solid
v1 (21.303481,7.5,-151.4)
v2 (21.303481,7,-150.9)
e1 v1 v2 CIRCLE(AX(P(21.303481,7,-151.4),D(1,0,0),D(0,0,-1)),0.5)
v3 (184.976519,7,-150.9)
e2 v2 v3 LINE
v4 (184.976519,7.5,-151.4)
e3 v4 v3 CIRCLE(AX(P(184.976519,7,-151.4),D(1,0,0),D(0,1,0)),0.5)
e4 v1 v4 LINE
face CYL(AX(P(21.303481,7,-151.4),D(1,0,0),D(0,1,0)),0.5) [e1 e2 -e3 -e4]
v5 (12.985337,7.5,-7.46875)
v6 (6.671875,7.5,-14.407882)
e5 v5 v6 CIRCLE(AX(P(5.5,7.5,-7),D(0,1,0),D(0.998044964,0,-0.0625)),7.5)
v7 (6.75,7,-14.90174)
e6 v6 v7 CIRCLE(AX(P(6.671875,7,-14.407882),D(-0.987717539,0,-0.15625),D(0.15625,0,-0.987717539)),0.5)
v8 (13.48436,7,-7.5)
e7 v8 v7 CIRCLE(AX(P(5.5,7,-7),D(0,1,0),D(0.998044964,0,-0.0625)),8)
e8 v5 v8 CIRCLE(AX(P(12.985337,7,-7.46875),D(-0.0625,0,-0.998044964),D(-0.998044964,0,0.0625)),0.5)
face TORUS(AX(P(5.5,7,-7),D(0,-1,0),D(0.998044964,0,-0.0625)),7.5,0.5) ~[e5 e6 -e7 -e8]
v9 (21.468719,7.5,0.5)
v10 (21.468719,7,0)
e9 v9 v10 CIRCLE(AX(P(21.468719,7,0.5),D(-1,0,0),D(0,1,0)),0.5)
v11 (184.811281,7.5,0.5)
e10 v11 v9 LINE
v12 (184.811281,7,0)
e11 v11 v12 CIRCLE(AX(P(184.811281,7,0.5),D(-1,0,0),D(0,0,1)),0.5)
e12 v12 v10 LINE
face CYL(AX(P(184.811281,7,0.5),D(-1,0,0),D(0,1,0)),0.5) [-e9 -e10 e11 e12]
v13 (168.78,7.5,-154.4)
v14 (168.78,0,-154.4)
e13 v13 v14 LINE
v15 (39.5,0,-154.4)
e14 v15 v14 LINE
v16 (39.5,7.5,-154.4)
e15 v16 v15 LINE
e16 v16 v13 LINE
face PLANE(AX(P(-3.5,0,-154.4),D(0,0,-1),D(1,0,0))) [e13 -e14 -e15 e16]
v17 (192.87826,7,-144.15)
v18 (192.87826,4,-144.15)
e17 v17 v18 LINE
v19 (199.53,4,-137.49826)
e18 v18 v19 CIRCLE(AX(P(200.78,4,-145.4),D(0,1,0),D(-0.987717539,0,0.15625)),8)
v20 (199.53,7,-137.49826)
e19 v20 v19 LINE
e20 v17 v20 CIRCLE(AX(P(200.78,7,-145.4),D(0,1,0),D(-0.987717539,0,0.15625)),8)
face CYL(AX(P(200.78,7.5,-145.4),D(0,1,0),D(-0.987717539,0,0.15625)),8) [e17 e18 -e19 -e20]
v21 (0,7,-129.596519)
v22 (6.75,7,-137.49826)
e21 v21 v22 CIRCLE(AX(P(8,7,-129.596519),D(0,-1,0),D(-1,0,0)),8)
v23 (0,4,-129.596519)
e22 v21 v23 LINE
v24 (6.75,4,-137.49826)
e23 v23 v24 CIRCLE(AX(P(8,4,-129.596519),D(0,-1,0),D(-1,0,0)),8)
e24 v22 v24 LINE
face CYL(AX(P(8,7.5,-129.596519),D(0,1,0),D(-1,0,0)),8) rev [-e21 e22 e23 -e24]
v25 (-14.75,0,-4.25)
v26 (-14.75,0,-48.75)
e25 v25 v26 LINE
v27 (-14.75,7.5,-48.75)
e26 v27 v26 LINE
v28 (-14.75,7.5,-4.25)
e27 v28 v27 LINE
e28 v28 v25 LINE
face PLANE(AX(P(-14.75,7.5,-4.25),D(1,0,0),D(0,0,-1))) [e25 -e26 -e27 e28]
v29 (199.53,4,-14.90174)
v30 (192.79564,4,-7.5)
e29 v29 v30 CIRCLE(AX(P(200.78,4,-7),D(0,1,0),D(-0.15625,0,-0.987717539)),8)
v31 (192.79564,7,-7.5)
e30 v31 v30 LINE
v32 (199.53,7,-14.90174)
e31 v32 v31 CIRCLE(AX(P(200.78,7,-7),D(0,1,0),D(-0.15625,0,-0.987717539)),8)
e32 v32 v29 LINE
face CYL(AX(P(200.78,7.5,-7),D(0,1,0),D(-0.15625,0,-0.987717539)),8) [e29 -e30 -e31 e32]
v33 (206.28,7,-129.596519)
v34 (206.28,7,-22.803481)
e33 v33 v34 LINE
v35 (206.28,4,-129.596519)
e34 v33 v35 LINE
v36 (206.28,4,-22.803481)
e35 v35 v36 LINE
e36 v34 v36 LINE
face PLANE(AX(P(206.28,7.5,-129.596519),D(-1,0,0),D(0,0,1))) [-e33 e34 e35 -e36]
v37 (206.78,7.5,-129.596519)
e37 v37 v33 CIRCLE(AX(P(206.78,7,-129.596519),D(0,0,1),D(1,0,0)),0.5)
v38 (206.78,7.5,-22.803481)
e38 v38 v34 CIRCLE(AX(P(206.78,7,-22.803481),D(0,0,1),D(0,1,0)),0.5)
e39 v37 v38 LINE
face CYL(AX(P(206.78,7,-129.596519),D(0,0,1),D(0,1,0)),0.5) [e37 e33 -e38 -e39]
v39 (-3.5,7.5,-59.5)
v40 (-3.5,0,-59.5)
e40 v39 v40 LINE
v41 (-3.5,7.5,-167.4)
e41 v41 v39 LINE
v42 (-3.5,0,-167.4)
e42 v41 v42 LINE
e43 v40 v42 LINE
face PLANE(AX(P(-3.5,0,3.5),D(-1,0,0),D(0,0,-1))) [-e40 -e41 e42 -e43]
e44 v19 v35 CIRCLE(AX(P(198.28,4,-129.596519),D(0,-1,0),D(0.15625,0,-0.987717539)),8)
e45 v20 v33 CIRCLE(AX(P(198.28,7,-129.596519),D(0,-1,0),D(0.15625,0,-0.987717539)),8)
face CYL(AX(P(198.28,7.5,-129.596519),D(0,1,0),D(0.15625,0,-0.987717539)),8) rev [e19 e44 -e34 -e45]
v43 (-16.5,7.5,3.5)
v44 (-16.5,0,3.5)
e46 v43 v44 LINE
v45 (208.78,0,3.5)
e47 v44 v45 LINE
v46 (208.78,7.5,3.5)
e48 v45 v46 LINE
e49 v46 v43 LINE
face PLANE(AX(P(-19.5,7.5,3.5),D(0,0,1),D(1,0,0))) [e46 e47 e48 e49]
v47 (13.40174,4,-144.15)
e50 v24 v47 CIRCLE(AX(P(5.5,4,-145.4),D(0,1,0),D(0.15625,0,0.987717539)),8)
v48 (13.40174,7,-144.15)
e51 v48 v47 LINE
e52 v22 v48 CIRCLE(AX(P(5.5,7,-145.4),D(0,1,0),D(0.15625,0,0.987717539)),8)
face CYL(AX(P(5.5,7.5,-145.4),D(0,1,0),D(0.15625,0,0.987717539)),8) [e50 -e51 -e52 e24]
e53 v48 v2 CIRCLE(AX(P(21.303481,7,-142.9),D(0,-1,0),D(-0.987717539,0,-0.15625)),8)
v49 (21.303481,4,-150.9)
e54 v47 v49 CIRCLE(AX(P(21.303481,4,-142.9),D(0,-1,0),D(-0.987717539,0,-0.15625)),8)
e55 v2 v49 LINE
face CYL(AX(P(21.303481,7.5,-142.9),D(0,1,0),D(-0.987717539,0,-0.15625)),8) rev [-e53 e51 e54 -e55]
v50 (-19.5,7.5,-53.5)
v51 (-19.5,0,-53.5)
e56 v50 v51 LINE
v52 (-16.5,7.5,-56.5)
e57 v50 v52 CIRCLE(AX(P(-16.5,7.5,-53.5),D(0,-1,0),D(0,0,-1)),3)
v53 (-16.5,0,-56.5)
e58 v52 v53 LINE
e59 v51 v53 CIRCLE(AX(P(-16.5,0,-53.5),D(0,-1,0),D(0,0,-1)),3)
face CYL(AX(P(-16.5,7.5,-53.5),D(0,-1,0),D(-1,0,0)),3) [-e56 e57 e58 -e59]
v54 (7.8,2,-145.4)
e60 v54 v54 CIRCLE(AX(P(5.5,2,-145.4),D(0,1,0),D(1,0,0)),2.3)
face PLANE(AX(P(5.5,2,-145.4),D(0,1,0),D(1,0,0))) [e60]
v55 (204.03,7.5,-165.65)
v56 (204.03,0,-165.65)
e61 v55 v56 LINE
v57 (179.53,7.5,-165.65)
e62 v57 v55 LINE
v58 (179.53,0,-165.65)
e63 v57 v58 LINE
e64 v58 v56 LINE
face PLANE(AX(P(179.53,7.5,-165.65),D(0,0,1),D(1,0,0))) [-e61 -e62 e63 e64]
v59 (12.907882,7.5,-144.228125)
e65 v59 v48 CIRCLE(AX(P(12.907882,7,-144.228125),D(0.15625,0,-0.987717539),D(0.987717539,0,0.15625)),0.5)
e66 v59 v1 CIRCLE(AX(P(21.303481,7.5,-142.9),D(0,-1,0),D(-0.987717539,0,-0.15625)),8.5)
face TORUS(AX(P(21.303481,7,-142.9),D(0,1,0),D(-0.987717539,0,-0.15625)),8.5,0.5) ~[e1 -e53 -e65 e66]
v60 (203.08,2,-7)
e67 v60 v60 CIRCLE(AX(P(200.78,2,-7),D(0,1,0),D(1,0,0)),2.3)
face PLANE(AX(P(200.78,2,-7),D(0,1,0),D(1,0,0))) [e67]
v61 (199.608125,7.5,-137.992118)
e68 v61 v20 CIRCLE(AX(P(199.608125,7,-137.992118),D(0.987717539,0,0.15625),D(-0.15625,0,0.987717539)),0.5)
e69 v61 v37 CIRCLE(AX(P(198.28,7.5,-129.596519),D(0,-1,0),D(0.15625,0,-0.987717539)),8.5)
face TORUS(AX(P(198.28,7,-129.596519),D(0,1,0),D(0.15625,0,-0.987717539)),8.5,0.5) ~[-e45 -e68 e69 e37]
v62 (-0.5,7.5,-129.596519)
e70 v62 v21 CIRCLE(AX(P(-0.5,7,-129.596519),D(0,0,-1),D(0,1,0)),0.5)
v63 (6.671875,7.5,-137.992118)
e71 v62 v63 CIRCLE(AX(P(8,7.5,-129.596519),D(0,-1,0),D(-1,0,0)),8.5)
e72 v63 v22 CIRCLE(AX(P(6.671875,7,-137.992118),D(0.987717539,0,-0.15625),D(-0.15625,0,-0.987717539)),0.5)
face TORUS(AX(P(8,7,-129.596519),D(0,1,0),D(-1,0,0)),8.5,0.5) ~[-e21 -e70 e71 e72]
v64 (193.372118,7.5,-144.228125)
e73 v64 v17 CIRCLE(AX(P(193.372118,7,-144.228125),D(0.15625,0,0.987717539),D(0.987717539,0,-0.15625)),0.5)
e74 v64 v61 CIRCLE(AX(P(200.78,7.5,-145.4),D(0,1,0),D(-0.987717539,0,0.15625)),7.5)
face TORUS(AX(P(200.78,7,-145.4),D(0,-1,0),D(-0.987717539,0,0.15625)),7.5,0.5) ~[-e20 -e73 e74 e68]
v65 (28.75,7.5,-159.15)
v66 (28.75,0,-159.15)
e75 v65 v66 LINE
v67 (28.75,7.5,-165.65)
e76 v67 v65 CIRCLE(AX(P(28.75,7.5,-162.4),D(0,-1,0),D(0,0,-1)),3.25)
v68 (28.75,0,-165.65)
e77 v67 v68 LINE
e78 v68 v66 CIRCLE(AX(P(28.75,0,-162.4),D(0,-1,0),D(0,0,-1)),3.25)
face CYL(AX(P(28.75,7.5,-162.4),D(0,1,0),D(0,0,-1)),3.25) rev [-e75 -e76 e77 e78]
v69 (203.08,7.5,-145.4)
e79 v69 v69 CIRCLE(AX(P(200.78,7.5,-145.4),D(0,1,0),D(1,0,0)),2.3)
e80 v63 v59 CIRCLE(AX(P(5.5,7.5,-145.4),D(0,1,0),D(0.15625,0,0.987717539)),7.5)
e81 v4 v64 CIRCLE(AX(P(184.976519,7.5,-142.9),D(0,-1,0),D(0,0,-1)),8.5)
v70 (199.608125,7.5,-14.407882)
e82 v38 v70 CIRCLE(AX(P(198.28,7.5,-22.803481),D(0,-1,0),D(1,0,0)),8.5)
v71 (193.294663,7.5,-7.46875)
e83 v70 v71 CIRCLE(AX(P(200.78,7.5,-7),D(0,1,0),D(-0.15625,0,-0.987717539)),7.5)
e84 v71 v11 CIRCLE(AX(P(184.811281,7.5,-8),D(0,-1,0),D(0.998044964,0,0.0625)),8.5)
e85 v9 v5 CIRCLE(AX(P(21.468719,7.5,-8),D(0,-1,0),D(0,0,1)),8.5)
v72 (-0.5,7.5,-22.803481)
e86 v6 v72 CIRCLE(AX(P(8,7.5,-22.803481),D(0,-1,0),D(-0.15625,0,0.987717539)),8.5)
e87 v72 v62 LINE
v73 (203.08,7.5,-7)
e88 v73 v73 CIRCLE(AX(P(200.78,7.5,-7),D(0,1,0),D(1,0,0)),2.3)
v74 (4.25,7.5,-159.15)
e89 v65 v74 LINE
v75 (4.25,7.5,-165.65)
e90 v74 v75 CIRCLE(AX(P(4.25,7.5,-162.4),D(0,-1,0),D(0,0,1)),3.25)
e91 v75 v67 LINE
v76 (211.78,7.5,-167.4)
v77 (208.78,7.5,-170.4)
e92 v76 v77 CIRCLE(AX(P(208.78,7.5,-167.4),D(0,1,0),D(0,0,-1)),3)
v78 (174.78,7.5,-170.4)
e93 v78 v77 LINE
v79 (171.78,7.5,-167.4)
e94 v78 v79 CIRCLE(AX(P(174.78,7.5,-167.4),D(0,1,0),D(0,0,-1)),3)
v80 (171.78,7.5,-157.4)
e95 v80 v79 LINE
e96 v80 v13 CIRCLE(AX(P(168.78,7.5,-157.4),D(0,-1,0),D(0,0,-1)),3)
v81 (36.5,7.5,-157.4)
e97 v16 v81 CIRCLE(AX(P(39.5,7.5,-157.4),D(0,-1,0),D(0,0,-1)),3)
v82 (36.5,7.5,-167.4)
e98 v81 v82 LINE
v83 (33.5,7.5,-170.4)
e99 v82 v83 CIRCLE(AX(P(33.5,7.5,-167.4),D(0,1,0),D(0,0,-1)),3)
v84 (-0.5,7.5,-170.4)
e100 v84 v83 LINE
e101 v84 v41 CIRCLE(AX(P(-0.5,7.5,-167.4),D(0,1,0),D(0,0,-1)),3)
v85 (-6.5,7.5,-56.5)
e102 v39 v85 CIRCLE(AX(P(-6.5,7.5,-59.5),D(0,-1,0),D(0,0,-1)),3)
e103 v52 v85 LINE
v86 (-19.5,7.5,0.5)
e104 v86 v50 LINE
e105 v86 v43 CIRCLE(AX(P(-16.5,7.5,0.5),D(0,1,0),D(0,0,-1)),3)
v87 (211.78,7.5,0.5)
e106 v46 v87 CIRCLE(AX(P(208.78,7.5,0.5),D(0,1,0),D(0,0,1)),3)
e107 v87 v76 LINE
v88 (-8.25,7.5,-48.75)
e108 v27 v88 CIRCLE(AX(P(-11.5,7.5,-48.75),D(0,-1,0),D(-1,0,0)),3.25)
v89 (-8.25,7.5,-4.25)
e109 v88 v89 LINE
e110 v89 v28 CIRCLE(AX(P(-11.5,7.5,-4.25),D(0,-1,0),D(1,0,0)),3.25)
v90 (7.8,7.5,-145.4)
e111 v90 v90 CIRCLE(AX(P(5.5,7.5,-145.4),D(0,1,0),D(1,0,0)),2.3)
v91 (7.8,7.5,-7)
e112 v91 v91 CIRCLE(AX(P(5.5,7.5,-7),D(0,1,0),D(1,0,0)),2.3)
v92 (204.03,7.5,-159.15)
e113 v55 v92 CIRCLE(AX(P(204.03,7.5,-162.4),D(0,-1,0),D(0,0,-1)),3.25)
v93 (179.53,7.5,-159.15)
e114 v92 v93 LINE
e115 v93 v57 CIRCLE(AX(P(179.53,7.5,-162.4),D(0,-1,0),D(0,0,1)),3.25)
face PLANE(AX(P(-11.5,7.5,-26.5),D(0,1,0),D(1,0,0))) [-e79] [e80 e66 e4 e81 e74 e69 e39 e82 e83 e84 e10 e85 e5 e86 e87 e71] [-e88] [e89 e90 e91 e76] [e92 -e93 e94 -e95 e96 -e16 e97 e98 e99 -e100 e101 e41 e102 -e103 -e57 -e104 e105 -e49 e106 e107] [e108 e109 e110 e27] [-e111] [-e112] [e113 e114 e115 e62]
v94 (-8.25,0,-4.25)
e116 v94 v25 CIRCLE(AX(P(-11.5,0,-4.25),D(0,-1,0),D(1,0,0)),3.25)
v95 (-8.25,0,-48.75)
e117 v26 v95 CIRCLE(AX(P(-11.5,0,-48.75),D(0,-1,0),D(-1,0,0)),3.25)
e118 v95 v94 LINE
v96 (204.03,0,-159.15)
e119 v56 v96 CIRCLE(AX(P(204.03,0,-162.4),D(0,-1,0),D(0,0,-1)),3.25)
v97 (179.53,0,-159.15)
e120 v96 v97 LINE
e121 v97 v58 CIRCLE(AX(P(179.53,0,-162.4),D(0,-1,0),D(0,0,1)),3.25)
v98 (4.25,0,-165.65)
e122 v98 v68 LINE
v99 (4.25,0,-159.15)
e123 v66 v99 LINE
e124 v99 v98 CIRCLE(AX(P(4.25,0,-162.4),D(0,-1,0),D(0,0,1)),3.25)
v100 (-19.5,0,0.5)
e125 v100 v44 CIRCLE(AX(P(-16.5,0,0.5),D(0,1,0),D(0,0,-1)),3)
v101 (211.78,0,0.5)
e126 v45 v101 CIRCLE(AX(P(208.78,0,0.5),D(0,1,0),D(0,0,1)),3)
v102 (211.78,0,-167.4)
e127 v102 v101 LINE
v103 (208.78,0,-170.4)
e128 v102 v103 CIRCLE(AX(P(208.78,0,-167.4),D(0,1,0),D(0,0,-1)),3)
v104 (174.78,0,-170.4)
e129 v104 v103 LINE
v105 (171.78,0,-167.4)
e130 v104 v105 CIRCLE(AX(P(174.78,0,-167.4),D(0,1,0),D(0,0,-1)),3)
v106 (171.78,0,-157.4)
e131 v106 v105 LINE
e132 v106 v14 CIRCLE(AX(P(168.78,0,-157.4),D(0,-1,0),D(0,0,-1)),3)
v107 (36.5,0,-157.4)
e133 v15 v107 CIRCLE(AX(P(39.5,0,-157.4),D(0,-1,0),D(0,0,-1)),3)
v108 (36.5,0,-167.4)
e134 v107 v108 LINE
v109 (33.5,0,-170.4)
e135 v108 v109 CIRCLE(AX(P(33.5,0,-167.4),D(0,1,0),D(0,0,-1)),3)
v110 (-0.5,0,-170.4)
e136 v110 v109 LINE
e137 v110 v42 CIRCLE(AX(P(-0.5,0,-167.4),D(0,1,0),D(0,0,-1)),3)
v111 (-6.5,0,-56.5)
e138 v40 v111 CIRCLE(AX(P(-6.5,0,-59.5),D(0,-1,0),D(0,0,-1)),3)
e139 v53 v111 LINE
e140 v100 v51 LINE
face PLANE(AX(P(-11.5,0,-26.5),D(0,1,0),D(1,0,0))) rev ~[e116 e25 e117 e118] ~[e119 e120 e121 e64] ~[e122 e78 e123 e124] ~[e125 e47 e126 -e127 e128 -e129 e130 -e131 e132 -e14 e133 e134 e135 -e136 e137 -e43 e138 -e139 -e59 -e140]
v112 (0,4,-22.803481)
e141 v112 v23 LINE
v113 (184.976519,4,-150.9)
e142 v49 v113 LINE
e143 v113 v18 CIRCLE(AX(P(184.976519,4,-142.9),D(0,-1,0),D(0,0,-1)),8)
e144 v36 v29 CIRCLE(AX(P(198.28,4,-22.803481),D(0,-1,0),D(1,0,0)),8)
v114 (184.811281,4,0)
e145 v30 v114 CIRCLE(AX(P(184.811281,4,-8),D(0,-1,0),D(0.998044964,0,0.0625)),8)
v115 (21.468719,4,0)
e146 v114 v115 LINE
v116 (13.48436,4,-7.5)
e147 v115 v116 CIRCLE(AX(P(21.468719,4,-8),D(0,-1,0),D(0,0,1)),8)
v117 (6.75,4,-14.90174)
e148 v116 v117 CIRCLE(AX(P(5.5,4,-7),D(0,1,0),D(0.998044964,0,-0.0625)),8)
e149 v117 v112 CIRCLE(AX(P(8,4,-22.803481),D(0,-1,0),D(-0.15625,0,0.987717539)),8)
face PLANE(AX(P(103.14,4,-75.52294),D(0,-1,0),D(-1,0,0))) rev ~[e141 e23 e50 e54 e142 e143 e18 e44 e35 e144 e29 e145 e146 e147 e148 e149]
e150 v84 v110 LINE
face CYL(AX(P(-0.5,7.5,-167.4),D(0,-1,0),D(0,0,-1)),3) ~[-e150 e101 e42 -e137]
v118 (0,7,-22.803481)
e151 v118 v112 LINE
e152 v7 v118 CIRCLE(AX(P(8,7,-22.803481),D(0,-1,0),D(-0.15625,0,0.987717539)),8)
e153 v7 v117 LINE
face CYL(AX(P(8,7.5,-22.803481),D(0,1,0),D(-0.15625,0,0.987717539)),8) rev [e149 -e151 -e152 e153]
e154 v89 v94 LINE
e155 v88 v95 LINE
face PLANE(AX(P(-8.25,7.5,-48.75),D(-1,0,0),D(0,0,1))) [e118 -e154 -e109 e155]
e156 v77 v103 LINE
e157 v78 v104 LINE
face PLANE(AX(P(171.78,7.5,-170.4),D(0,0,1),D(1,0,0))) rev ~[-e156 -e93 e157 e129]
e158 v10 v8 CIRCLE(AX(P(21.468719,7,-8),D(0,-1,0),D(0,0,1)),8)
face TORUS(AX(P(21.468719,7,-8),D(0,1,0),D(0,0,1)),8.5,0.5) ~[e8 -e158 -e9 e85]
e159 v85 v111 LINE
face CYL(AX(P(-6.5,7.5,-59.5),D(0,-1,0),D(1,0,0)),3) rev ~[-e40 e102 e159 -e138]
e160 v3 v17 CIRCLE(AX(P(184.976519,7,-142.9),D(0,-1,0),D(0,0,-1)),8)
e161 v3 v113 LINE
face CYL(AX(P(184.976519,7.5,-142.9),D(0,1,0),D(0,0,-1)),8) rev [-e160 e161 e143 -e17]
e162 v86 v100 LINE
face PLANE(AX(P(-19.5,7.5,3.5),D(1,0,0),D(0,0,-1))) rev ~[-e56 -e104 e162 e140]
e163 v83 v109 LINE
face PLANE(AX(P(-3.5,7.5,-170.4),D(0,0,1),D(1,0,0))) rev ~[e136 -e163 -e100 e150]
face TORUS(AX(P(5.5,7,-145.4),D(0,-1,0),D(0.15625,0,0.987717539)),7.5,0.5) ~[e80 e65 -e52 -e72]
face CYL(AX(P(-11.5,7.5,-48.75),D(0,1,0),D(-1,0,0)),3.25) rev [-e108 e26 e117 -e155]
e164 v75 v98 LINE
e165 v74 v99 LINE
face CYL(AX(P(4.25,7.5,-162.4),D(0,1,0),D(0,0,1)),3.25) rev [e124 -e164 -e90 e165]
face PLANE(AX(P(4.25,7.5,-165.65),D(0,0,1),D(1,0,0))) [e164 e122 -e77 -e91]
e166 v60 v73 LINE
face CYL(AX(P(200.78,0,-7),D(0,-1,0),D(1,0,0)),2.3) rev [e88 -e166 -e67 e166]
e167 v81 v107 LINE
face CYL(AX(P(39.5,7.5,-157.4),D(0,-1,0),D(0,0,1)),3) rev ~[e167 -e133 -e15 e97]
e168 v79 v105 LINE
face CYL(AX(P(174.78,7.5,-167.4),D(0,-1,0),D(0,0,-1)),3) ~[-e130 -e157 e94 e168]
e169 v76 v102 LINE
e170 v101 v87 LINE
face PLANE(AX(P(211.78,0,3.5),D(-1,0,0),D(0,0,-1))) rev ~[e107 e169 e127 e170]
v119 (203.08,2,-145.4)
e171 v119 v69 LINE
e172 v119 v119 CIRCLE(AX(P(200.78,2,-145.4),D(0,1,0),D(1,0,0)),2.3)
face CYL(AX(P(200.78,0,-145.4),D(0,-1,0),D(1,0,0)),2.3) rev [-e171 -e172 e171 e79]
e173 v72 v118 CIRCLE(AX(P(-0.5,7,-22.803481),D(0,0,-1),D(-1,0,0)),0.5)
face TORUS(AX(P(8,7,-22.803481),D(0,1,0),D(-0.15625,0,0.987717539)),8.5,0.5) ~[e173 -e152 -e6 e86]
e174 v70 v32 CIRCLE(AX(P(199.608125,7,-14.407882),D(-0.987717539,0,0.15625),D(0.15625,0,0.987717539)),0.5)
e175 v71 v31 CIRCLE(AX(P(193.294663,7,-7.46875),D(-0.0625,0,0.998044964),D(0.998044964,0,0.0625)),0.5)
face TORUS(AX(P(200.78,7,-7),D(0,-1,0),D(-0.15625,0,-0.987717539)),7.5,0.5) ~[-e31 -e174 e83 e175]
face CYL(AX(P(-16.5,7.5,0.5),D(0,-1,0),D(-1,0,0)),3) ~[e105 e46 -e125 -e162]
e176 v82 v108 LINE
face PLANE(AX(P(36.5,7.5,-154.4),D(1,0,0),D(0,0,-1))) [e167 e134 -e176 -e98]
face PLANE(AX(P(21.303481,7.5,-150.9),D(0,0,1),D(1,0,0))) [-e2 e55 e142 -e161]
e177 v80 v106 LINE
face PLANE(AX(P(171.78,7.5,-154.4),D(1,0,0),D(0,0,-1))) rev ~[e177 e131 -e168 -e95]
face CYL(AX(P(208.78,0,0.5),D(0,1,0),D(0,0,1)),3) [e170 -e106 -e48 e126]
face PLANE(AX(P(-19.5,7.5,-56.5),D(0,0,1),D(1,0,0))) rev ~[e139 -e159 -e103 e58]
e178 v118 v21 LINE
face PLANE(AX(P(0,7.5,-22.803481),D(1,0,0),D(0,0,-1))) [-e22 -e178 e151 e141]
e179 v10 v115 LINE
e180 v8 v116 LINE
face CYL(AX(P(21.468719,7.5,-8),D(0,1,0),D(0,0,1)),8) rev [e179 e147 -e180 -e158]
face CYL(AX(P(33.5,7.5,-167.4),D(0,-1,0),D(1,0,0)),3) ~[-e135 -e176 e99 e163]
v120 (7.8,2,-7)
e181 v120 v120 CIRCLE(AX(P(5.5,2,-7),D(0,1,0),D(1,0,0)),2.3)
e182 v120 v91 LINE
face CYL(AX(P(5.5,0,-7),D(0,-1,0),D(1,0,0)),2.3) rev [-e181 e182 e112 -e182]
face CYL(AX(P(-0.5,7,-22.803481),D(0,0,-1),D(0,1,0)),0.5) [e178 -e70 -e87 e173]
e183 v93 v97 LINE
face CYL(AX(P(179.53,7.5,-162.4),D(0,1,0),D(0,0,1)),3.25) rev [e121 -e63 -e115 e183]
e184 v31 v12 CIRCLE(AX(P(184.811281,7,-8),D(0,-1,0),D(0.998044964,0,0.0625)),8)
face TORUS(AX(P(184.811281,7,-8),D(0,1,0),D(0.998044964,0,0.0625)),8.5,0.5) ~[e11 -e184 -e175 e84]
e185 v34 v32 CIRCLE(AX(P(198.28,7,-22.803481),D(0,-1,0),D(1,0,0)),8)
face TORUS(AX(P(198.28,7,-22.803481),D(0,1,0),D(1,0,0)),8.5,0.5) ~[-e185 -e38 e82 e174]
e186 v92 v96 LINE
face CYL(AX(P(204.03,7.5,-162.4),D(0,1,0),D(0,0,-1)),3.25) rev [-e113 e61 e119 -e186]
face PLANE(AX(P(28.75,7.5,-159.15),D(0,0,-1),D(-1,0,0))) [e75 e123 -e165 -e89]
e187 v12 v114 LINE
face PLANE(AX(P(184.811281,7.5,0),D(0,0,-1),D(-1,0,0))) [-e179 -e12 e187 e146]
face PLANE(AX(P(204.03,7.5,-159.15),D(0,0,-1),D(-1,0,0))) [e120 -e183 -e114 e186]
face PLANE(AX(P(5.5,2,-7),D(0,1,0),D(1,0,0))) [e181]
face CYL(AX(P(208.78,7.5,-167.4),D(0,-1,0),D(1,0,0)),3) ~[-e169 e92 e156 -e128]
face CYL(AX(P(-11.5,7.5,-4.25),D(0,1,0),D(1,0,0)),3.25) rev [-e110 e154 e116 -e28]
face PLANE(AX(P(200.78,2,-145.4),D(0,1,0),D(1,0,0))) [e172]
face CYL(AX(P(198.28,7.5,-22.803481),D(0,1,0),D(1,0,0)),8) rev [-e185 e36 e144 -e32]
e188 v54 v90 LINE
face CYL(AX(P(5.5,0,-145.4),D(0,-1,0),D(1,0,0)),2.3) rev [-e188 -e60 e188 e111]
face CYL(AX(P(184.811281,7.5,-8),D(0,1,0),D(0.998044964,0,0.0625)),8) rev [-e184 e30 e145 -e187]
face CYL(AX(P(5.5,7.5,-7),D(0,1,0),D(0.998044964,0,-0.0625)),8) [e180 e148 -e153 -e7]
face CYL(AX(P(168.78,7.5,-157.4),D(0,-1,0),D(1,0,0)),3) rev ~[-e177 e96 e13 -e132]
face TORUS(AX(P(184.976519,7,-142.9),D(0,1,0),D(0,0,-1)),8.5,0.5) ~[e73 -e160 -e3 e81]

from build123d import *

# Parameters (mm, degrees)
SKETCH1_W           = 215.28
SKETCH1_H           = 157.9
SKETCH1_R           = 2.3
BOSS_EXTRUDE1_DEPTH = 7.5
SKETCH1_2_R         = 2.3
BOSS_EXTRUDE2_DEPTH = 2
CUT_EXTRUDE1_DEPTH  = 3.5
SKETCH3_W           = 16
SKETCH3_H           = 60
SKETCH3_W_2         = 40
SKETCH3_H_2         = 16
BOSS_EXTRUDE3_DEPTH = 7.5
FILLET1_R           = 0.5
FILLET2_R           = 3


with BuildPart() as part:
    # Sketch1 → Boss-Extrude1 (new body)
    with BuildSketch(Plane(origin=(0, 0, 0), x_dir=(1, 0, 0), z_dir=(0, 1, 0))):
        with Locations((104.14, 75.45)):
            Rectangle(SKETCH1_W, SKETCH1_H)
        with Locations((5.5, 145.4)):
            Circle(SKETCH1_R, mode=Mode.SUBTRACT)
        with Locations((5.5, 7)):
            Circle(SKETCH1_R, mode=Mode.SUBTRACT)
        with Locations((200.78, 7)):
            Circle(SKETCH1_R, mode=Mode.SUBTRACT)
        with Locations((200.78, 145.4)):
            Circle(SKETCH1_R, mode=Mode.SUBTRACT)
    extrude(amount=BOSS_EXTRUDE1_DEPTH)

    # Sketch1<2> → Boss-Extrude2 (add)
    with BuildSketch(Plane(origin=(0, 0, 0), x_dir=(1, 0, 0), z_dir=(0, 1, 0))):
        with Locations((200.78, 145.4)):
            Circle(SKETCH1_2_R)
        with Locations((5.5, 7)):
            Circle(SKETCH1_2_R)
        with Locations((5.5, 145.4)):
            Circle(SKETCH1_2_R)
        with Locations((200.78, 7)):
            Circle(SKETCH1_2_R)
    extrude(amount=BOSS_EXTRUDE2_DEPTH)

    # Sketch2 → Cut-Extrude1 (cut)
    with BuildSketch(Plane(origin=(0, 7.5, 0), x_dir=(1, 0, 0), z_dir=(0, 1, 0))):
        with BuildLine():
            Line((21.303480629, 150.9), (184.976519371, 150.9))
            ThreePointArc((184.976519371, 150.9), (190.172671793, 148.98276253), (192.878259685, 144.15))
            ThreePointArc((192.878259685, 144.15), (195.123145751, 139.743145751), (199.53, 137.498259685))
            ThreePointArc((199.53, 137.498259685), (204.36276253, 134.792671793), (206.28, 129.596519371))
            Line((206.28, 129.596519371), (206.28, 22.803480629))
            ThreePointArc((206.28, 22.803480629), (204.36276253, 17.607328207), (199.53, 14.901740315))
            ThreePointArc((199.53, 14.901740315), (194.862670388, 12.383791439), (192.795640289, 7.5))
            ThreePointArc((192.795640289, 7.5), (190.288506152, 2.169048105), (184.811280577, 0))
            Line((184.811280577, 0), (21.468719423, 0))
            ThreePointArc((21.468719423, 0), (15.991493848, 2.169048105), (13.484359711, 7.5))
            ThreePointArc((13.484359711, 7.5), (11.417329612, 12.383791439), (6.75, 14.901740315))
            ThreePointArc((6.75, 14.901740315), (1.91723747, 17.607328207), (0, 22.803480629))
            Line((0, 22.803480629), (0, 129.596519371))
            ThreePointArc((0, 129.596519371), (1.91723747, 134.792671793), (6.75, 137.498259685))
            ThreePointArc((6.75, 137.498259685), (11.156854249, 139.743145751), (13.401740315, 144.15))
            ThreePointArc((13.401740315, 144.15), (16.107328207, 148.98276253), (21.303480629, 150.9))
        make_face()
    extrude(amount=-CUT_EXTRUDE1_DEPTH, mode=Mode.SUBTRACT)

    # Sketch3 → Boss-Extrude3 (add)
    with BuildSketch(Plane(origin=(0, 7.5, 0), x_dir=(1, 0, 0), z_dir=(0, 1, 0))):
        with Locations((-11.5, 26.5)):
            Rectangle(SKETCH3_W, SKETCH3_H)
        with BuildLine():
            Line((-8.25, 48.75), (-8.25, 4.25))
            ThreePointArc((-8.25, 4.25), (-11.5, 1), (-14.75, 4.25))
            Line((-14.75, 4.25), (-14.75, 48.75))
            ThreePointArc((-14.75, 48.75), (-11.5, 52), (-8.25, 48.75))
        make_face(mode=Mode.SUBTRACT)
        with Locations((16.5, 162.4)):
            Rectangle(SKETCH3_W_2, SKETCH3_H_2)
        with BuildLine():
            Line((4.25, 165.65), (28.75, 165.65))
            ThreePointArc((28.75, 165.65), (32, 162.4), (28.75, 159.15))
            Line((28.75, 159.15), (4.25, 159.15))
            ThreePointArc((4.25, 159.15), (1, 162.4), (4.25, 165.65))
        make_face(mode=Mode.SUBTRACT)
        with Locations((191.78, 162.4)):
            Rectangle(SKETCH3_W_2, SKETCH3_H_2)
        with BuildLine():
            Line((179.53, 165.65), (204.03, 165.65))
            ThreePointArc((204.03, 165.65), (207.28, 162.4), (204.03, 159.15))
            Line((204.03, 159.15), (179.53, 159.15))
            ThreePointArc((179.53, 159.15), (176.28, 162.4), (179.53, 165.65))
        make_face(mode=Mode.SUBTRACT)
    extrude(amount=-BOSS_EXTRUDE3_DEPTH)

    # Fillet1
    fillet1_edges = [part.edges().sort_by_distance(p)[0] for p in [
        (190.288506152, 7.5, -2.169048105),
        (194.862670388, 7.5, -12.383791439),
        (204.36276253, 7.5, -17.607328207),
        (206.28, 7.5, -76.2),
        (204.36276253, 7.5, -134.792671793),
        (195.123145751, 7.5, -139.743145751),
        (190.172671793, 7.5, -148.98276253),
        (103.14, 7.5, -150.9),
        (16.107328207, 7.5, -148.98276253),
        (11.156854249, 7.5, -139.743145751),
        (1.91723747, 7.5, -134.792671793),
        (0, 7.5, -76.2),
        (1.91723747, 7.5, -17.607328207),
        (11.417329612, 7.5, -12.383791439),
        (15.991493848, 7.5, -2.169048105),
        (103.14, 7.5, 0),
    ]]
    fillet(fillet1_edges, radius=FILLET1_R)

    # Fillet2
    fillet2_edges = [part.edges().sort_by_distance(p)[0] for p in [
        (-19.5, 3.75, -56.5),
        (-3.5, 3.75, -170.4),
        (36.5, 3.75, -170.4),
        (36.5, 3.75, -154.4),
        (211.78, 3.75, -170.4),
        (171.78, 3.75, -154.4),
        (171.78, 3.75, -170.4),
        (211.78, 3.75, 3.5),
        (-3.5, 3.75, -56.5),
        (-19.5, 3.75, 3.5),
    ]]
    fillet(fillet2_edges, radius=FILLET2_R)


solid = part.part
